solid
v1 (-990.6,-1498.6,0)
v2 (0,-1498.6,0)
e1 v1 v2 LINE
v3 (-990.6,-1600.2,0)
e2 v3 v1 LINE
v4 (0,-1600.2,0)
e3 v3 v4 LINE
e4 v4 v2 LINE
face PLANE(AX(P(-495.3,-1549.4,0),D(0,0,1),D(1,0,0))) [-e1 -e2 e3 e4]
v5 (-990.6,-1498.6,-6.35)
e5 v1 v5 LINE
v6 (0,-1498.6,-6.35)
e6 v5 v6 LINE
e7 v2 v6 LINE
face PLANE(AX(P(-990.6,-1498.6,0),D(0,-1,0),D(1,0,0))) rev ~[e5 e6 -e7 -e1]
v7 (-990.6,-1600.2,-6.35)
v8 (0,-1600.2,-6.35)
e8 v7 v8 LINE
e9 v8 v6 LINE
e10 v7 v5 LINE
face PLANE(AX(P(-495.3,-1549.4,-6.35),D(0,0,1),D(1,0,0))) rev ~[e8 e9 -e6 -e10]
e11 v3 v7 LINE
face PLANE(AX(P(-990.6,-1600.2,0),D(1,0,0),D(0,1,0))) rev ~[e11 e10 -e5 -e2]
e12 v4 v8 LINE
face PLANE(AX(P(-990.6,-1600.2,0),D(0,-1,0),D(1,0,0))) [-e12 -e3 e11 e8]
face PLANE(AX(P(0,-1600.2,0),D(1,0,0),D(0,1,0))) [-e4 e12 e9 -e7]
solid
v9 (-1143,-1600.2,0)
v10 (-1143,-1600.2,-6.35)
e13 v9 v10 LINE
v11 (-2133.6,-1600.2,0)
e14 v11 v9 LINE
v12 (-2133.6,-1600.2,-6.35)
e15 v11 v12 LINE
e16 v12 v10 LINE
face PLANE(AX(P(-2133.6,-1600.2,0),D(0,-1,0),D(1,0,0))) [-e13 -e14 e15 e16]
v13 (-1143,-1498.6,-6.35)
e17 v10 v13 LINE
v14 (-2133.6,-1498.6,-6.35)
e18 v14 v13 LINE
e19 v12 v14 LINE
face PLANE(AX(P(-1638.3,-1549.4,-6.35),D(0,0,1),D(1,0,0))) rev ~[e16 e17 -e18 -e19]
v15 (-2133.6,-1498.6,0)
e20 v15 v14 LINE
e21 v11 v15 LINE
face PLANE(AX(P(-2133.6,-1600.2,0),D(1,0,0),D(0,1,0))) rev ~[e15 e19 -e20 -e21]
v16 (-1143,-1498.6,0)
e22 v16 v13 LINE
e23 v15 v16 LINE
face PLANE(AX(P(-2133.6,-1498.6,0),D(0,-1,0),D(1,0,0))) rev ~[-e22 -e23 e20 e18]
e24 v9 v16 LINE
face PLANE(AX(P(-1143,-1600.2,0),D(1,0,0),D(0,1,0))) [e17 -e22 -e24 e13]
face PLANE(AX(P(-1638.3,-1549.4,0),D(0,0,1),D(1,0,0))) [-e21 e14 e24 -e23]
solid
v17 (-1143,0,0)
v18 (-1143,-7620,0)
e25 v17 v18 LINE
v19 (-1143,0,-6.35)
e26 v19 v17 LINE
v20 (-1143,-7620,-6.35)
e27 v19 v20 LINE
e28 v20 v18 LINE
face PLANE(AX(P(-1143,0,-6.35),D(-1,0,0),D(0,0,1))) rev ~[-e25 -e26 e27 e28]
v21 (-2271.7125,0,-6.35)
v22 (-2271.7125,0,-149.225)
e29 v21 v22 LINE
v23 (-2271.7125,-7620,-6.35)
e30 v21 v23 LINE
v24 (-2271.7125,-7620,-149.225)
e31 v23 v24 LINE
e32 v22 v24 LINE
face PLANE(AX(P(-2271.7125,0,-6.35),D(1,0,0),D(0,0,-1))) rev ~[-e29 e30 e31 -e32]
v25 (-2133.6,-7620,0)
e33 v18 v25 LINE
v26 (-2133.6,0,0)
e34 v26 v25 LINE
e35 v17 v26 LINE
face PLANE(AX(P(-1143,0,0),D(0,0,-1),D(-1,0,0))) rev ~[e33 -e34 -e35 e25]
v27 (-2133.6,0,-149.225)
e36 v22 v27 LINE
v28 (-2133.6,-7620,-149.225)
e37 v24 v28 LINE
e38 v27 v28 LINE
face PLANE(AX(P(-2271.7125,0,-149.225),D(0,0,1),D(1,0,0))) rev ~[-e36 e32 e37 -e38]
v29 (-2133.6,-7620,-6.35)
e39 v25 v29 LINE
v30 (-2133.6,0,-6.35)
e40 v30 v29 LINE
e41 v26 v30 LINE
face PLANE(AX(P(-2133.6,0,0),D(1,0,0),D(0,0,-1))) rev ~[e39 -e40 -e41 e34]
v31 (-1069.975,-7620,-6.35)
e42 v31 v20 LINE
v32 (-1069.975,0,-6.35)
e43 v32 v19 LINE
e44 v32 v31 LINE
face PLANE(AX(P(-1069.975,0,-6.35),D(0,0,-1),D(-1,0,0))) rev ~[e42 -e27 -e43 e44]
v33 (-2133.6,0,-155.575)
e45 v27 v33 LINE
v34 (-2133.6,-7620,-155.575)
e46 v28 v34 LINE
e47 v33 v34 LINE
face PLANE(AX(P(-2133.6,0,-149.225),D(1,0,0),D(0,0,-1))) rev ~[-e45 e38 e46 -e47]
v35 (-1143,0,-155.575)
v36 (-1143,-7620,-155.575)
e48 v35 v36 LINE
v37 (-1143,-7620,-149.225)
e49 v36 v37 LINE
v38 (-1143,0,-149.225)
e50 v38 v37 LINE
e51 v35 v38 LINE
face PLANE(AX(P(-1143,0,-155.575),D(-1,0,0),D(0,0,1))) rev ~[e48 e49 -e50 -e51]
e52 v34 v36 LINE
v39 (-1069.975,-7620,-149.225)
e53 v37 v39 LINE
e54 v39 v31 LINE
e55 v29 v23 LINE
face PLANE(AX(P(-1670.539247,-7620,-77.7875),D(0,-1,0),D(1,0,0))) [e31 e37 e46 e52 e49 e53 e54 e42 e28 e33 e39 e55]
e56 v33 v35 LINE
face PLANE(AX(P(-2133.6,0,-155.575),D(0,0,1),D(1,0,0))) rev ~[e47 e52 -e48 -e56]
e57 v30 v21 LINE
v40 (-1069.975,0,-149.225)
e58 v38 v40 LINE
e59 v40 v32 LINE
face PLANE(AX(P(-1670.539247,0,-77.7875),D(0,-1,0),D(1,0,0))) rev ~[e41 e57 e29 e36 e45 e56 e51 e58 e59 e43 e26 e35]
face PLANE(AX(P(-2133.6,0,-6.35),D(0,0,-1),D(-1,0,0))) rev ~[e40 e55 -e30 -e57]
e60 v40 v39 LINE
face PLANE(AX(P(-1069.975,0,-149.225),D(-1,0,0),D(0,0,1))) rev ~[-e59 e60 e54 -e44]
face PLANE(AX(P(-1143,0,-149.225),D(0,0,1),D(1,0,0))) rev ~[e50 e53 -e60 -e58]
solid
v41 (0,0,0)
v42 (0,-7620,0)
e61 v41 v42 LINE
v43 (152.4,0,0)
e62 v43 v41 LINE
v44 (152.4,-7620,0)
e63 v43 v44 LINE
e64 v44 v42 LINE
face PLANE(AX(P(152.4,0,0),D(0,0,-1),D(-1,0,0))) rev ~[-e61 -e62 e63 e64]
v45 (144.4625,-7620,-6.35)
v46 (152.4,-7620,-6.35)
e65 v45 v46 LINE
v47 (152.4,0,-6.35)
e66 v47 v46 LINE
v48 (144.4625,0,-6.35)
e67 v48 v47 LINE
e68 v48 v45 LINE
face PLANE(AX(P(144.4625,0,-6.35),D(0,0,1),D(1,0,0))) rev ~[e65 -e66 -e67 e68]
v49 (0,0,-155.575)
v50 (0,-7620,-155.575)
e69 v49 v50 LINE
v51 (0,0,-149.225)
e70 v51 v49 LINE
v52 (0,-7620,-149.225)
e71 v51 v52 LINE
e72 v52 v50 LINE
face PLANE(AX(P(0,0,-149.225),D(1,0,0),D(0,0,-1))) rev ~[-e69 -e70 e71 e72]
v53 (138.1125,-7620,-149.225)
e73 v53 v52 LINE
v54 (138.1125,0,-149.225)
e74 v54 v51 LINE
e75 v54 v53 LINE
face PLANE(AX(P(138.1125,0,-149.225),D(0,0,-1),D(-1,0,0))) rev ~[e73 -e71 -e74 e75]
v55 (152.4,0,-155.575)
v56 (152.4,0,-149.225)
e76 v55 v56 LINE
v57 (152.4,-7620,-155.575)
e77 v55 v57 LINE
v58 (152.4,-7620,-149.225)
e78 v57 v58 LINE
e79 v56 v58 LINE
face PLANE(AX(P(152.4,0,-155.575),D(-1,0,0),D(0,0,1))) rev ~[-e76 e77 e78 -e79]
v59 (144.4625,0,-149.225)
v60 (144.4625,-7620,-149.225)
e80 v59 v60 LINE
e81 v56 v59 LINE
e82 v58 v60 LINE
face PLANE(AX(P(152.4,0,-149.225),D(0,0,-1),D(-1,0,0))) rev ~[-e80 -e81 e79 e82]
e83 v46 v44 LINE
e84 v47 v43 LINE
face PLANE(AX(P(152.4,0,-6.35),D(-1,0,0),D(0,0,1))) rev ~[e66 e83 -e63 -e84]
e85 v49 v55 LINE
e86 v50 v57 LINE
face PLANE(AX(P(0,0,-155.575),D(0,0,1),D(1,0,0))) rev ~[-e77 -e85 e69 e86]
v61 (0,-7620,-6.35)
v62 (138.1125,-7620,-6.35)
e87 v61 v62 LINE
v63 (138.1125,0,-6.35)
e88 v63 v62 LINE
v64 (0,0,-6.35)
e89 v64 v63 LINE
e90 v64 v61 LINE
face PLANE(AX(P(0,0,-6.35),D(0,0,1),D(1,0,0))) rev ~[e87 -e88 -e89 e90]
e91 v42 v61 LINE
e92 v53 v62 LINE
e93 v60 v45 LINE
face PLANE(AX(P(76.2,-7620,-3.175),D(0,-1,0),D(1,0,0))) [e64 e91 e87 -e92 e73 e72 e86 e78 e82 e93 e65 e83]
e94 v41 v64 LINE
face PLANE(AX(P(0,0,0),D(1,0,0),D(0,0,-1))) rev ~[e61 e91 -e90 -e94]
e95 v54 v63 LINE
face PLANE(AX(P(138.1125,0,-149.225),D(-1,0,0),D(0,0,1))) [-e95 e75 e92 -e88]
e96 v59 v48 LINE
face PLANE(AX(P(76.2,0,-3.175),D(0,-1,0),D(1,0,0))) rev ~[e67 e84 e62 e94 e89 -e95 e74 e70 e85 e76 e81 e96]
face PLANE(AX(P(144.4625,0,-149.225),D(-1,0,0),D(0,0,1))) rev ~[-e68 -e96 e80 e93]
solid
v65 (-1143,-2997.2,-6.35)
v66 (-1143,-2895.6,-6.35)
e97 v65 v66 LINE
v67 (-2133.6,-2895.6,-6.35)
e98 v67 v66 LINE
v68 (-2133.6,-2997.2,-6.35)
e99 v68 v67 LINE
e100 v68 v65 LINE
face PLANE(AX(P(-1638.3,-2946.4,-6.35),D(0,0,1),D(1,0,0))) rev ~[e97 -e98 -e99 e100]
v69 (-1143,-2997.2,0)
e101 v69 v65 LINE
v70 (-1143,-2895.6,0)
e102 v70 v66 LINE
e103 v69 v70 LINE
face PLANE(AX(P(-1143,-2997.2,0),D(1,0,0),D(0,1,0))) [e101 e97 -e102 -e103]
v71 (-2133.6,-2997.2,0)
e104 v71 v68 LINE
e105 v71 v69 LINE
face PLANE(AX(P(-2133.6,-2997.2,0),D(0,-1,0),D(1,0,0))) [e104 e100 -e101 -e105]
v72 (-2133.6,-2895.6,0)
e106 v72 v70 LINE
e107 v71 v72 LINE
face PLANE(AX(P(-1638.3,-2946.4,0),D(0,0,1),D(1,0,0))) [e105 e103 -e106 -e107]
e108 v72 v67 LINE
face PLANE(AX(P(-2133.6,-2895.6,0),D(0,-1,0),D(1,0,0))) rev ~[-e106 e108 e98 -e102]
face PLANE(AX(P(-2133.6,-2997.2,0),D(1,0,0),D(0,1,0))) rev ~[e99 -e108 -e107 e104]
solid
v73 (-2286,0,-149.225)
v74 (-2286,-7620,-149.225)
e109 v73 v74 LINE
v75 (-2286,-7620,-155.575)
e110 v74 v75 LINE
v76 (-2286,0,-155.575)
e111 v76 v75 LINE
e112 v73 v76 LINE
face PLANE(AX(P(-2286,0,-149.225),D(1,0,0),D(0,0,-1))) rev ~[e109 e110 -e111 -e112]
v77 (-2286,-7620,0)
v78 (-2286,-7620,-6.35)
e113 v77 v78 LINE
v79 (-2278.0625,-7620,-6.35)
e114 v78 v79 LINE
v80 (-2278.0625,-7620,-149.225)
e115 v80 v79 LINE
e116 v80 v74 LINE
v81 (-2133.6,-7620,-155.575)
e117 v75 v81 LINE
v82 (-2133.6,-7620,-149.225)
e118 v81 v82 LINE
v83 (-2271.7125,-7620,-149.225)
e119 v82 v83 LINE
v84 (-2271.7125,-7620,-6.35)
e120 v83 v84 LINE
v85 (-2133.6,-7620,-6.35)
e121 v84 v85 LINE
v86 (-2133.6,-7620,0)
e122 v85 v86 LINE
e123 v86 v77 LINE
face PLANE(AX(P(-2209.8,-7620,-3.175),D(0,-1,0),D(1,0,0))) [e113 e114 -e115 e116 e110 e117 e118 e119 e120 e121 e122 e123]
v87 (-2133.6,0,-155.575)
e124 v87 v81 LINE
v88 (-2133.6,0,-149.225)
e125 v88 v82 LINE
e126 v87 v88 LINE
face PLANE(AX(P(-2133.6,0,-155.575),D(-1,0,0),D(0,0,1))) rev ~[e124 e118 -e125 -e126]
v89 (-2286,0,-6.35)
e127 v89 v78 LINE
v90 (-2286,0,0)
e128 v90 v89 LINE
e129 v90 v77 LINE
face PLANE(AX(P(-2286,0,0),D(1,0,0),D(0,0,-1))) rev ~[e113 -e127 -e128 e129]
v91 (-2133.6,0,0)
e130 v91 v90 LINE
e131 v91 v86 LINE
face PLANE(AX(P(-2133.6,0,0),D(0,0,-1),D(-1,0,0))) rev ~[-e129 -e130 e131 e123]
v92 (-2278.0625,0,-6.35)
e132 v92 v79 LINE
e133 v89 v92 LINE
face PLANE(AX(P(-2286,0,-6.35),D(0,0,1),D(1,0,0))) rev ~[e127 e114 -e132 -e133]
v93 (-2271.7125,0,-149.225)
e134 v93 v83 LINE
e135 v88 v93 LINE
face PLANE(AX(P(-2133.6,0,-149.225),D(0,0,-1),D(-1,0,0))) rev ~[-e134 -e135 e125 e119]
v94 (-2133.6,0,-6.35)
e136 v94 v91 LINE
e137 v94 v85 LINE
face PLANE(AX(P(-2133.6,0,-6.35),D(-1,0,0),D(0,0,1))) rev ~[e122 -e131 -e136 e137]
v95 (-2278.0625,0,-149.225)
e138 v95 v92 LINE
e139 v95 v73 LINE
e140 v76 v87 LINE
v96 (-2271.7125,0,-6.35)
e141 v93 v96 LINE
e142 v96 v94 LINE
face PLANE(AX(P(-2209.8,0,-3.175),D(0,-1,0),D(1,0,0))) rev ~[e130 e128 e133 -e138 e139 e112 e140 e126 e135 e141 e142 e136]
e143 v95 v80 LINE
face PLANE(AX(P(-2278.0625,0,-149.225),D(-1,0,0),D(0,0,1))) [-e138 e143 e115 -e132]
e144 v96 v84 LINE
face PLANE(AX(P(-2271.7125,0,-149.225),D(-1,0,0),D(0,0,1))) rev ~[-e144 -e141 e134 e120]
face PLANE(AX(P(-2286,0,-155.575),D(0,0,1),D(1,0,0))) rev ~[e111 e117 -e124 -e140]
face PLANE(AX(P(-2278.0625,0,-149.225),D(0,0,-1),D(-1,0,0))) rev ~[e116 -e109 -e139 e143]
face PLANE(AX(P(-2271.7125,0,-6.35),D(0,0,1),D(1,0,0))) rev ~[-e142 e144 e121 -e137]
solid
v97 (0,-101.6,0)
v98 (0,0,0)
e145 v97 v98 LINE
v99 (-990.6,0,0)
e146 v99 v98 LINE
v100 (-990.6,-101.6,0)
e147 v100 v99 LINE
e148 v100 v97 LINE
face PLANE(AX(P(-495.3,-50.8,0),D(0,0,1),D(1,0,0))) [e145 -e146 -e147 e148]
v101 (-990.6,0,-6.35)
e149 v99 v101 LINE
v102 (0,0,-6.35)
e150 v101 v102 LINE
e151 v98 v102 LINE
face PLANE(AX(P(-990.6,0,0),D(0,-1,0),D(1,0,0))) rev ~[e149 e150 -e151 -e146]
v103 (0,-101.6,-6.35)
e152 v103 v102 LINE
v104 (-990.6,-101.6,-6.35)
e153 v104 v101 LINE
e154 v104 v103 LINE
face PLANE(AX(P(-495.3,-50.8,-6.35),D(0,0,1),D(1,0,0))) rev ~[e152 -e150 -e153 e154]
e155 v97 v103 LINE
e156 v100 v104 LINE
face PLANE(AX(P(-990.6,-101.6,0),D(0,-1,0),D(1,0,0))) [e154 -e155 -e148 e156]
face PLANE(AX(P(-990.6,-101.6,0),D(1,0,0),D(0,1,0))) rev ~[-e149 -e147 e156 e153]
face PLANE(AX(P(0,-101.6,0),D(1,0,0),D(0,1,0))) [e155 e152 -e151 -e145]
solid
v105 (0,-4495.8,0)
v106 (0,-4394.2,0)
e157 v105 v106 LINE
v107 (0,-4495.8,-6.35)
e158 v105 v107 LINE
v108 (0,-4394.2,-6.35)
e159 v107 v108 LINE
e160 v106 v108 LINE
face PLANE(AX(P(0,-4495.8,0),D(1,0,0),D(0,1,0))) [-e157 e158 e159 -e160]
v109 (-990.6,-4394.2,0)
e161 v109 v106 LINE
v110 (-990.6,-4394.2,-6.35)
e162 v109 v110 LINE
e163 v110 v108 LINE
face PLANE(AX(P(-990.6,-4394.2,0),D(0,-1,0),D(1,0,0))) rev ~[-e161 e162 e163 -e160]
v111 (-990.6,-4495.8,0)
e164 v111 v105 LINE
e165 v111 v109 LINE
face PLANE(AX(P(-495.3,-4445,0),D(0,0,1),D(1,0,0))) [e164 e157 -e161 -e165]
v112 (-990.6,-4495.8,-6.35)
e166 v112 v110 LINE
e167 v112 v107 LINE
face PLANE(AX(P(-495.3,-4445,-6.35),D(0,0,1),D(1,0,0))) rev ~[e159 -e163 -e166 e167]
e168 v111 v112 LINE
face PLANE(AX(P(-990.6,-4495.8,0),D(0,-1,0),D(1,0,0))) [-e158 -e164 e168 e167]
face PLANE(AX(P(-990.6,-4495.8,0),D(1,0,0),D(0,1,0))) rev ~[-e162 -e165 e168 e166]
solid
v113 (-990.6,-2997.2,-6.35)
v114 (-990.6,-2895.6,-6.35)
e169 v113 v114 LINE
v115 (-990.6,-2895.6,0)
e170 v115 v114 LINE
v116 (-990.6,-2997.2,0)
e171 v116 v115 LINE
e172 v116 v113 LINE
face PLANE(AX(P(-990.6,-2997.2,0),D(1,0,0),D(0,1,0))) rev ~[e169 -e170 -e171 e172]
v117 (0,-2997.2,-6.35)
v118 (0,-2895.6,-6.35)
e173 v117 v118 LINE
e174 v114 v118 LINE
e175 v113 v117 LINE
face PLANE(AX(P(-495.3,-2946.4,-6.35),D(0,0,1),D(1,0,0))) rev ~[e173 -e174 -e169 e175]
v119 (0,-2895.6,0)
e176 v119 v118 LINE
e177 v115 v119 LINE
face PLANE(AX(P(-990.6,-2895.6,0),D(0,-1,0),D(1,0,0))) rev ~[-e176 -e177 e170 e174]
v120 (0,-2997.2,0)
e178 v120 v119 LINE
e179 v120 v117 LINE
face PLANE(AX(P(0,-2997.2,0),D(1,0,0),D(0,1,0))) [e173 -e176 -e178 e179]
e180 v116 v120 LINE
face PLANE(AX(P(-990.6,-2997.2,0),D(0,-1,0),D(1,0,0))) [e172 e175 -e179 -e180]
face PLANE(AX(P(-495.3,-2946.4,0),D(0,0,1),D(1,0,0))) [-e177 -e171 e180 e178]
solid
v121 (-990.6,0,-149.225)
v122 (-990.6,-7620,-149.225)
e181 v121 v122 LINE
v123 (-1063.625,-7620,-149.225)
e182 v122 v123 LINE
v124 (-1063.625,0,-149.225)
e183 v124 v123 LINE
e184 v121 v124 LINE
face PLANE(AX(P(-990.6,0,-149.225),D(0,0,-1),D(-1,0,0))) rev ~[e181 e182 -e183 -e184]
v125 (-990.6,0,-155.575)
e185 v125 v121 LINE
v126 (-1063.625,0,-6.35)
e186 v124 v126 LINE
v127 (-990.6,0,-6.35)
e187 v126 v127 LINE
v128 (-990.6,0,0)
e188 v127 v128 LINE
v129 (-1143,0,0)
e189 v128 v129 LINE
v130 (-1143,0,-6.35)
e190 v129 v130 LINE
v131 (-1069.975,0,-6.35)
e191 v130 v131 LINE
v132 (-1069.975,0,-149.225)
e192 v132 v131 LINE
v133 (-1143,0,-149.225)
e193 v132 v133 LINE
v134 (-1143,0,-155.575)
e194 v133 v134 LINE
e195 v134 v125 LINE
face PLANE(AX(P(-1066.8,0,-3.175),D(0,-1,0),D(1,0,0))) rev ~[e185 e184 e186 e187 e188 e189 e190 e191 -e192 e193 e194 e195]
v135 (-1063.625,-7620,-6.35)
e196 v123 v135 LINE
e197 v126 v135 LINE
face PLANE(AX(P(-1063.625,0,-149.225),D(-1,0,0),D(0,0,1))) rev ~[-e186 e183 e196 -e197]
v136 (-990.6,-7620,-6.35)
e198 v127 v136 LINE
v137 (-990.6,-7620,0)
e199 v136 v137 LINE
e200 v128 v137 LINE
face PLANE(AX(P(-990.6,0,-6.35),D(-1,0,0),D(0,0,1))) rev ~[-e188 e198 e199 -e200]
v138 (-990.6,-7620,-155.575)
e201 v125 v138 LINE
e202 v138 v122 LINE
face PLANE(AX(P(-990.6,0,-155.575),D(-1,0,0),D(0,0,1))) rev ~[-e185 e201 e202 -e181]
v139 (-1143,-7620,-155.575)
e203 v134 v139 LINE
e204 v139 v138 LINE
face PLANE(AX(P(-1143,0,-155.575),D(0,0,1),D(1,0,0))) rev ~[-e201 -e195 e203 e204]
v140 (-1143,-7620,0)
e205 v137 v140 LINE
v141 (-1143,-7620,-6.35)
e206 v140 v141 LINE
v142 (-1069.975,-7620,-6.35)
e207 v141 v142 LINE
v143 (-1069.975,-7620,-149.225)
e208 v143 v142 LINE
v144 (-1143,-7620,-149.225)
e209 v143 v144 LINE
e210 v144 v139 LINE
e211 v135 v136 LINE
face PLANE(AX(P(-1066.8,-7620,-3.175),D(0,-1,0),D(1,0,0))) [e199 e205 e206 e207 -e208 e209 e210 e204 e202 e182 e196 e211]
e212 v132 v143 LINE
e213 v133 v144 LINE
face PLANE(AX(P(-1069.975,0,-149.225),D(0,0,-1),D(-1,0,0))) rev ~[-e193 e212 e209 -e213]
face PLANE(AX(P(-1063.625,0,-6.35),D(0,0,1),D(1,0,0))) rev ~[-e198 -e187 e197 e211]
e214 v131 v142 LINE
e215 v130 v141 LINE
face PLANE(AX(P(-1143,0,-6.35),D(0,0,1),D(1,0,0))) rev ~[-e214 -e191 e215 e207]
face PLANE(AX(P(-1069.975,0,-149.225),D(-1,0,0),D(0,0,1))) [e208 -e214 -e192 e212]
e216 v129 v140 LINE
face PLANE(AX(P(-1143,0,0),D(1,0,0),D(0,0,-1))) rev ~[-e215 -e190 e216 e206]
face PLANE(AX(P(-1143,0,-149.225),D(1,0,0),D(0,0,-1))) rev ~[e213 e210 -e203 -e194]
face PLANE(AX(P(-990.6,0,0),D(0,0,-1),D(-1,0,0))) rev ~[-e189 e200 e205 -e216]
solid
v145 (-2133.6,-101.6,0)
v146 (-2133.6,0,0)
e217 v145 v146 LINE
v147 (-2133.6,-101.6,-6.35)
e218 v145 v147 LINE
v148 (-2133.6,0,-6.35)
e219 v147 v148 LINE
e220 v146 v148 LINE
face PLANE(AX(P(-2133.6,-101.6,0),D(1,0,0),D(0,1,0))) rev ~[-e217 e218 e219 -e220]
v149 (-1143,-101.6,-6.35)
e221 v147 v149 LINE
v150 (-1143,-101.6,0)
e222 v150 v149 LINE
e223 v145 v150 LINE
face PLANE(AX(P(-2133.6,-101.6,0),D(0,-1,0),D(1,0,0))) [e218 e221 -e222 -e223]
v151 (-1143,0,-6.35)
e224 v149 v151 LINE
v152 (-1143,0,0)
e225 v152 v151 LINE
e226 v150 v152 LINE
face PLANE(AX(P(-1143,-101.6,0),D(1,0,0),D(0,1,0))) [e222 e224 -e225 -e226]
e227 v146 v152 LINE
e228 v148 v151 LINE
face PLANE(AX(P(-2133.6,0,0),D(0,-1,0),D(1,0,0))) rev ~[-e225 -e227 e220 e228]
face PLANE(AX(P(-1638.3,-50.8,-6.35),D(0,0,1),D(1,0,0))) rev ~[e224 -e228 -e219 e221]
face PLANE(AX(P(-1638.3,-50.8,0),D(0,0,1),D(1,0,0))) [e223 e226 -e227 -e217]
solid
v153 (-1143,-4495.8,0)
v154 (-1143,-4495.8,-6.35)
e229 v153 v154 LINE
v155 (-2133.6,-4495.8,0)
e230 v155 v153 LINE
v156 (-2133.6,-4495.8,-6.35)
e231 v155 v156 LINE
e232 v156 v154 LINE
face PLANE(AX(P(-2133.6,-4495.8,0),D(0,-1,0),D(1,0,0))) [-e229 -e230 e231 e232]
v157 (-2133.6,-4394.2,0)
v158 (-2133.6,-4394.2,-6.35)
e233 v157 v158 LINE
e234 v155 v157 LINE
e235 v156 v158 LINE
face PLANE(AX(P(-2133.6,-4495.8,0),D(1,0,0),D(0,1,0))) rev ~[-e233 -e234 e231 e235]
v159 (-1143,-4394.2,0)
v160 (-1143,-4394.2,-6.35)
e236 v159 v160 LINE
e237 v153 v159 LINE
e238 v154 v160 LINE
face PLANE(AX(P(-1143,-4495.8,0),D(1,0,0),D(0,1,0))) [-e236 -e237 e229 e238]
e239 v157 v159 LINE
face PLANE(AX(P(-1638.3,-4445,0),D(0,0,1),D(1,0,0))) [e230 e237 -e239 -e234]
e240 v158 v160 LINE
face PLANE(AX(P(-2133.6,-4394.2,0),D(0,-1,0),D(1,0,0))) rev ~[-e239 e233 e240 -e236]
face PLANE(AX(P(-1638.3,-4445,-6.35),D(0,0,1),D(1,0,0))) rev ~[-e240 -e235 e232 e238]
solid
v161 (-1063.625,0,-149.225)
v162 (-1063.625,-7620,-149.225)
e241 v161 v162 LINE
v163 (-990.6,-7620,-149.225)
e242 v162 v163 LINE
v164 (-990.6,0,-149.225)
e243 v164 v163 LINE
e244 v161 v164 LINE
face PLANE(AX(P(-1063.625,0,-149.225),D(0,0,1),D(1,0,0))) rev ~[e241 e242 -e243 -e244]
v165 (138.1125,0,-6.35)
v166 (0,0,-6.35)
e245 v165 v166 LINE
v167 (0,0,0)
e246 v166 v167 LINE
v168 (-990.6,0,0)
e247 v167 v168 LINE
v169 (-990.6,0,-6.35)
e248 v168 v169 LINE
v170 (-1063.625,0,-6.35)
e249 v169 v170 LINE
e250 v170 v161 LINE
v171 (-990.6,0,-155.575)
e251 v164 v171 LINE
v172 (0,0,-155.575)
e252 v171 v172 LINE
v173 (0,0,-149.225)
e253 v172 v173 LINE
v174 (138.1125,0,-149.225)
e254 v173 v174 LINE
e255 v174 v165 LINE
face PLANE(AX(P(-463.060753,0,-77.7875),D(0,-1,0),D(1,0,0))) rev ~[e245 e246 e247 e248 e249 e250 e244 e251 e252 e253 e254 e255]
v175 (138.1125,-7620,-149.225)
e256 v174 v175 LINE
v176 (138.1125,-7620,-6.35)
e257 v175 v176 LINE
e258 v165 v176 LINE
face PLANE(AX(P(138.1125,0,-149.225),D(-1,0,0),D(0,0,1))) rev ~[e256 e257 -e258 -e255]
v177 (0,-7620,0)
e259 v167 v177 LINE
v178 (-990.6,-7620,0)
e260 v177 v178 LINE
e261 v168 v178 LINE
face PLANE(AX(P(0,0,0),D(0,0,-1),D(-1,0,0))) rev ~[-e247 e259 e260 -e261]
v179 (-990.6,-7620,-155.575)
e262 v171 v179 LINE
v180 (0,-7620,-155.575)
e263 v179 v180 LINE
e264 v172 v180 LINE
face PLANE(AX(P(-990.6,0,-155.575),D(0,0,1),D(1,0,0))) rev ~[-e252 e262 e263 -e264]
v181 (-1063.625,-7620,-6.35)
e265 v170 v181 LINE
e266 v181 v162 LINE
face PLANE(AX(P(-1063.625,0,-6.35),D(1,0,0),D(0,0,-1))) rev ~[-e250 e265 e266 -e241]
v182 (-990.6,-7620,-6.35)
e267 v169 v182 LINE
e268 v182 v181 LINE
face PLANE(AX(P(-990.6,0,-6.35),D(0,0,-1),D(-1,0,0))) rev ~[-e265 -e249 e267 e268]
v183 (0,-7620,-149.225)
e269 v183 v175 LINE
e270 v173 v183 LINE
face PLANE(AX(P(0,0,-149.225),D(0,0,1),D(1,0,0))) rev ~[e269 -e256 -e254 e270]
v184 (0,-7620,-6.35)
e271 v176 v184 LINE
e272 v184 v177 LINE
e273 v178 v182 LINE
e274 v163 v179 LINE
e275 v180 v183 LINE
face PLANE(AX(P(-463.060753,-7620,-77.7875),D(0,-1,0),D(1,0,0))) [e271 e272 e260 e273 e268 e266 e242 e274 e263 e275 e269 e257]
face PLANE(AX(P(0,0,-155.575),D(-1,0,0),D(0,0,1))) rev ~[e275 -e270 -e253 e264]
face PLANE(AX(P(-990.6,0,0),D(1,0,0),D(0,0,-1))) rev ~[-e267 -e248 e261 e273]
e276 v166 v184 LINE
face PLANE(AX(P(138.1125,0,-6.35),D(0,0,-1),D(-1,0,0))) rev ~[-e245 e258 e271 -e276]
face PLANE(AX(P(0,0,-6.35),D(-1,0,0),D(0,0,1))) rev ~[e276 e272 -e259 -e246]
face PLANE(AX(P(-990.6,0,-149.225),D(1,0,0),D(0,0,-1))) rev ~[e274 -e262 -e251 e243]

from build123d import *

# Parameters (mm, degrees)
F0_W     = 6.35
F0_H     = 142.875
F1_DEPTH = 7620
F2_W     = 6.35
F2_H     = 142.875
F3_DEPTH = 7620
F4_W     = 6.35
F4_H     = 142.875
F5_DEPTH = 7620
F7_DEPTH = 7620
F8_W     = 990.6
F8_H     = 101.6
F9_DEPTH = 6.35


with BuildPart() as f1:
    # F0 (on Front) → F1 (new body)
    with BuildSketch(Plane.XZ):
        Polygon((152.4, 0), (0, 0), (0, -6.35), (138.1125, -6.35), (144.4625, -6.35), (152.4, -6.35), align=None)
        with Locations((141.2875, -77.7875)):
            Rectangle(F0_W, F0_H)
        Polygon((144.4625, -149.225), (138.1125, -149.225), (0, -149.225), (0, -155.575), (152.4, -155.575), (152.4, -149.225), align=None)
    extrude(amount=F1_DEPTH)


with BuildPart() as f3:
    # F2 (on Front) → F3 (new body)
    with BuildSketch(Plane.XZ):
        Polygon((-2133.6, 0), (-2286, 0), (-2286, -6.35), (-2278.0625, -6.35), (-2271.7125, -6.35), (-2133.6, -6.35), align=None)
        with Locations((-2274.8875, -77.7875)):
            Rectangle(F2_W, F2_H)
        Polygon((-2271.7125, -149.225), (-2278.0625, -149.225), (-2286, -149.225), (-2286, -155.575), (-2133.6, -155.575), (-2133.6, -149.225), align=None)
    extrude(amount=F3_DEPTH)


with BuildPart() as f5:
    # F4 (on Front) → F5 (new body)
    with BuildSketch(Plane.XZ):
        Polygon((-990.6, 0), (-1143, 0), (-1143, -6.35), (-1069.975, -6.35), (-1063.625, -6.35), (-990.6, -6.35), align=None)
        with Locations((-1066.8, -77.7875)):
            Rectangle(F4_W, F4_H)
        Polygon((-1063.625, -149.225), (-1069.975, -149.225), (-1143, -149.225), (-1143, -155.575), (-990.6, -155.575), (-990.6, -149.225), align=None)
    extrude(amount=F5_DEPTH)


with BuildPart() as f7:
    # F6 (on Front) → F7 (new body)
    with BuildSketch(Plane.XZ):
        Polygon((0, -6.35), (0, 0), (-990.6, 0), (-990.6, -6.35), (-1063.625, -6.35), (-1063.625, -149.225), (-990.6, -149.225), (-990.6, -155.575), (0, -155.575), (0, -149.225), (138.1125, -149.225), (138.1125, -6.35), align=None)
        Polygon((-1143, -6.35), (-1143, 0), (-2133.6, 0), (-2133.6, -6.35), (-2271.7125, -6.35), (-2271.7125, -149.225), (-2133.6, -149.225), (-2133.6, -155.575), (-1143, -155.575), (-1143, -149.225), (-1069.975, -149.225), (-1069.975, -6.35), align=None)
    extrude(amount=F7_DEPTH)


with BuildPart() as f9:
    # F8 (on face) → F9 (new body)
    with BuildSketch(Plane.XY):
        with Locations((-495.3, -1549.4)):
            Rectangle(F8_W, F8_H)
        with Locations((-1638.3, -1549.4)):
            Rectangle(F8_W, F8_H)
        with Locations((-1638.3, -50.8)):
            Rectangle(F8_W, F8_H)
        with Locations((-495.3, -50.8)):
            Rectangle(F8_W, F8_H)
        with Locations((-495.3, -2946.4)):
            Rectangle(F8_W, F8_H)
        with Locations((-1638.3, -2946.4)):
            Rectangle(F8_W, F8_H)
        with Locations((-495.3, -4445)):
            Rectangle(F8_W, F8_H)
        with Locations((-1638.3, -4445)):
            Rectangle(F8_W, F8_H)
    extrude(amount=-F9_DEPTH)


solid = Compound([f1.part, f3.part, f5.part, f7.part, f9.part])
